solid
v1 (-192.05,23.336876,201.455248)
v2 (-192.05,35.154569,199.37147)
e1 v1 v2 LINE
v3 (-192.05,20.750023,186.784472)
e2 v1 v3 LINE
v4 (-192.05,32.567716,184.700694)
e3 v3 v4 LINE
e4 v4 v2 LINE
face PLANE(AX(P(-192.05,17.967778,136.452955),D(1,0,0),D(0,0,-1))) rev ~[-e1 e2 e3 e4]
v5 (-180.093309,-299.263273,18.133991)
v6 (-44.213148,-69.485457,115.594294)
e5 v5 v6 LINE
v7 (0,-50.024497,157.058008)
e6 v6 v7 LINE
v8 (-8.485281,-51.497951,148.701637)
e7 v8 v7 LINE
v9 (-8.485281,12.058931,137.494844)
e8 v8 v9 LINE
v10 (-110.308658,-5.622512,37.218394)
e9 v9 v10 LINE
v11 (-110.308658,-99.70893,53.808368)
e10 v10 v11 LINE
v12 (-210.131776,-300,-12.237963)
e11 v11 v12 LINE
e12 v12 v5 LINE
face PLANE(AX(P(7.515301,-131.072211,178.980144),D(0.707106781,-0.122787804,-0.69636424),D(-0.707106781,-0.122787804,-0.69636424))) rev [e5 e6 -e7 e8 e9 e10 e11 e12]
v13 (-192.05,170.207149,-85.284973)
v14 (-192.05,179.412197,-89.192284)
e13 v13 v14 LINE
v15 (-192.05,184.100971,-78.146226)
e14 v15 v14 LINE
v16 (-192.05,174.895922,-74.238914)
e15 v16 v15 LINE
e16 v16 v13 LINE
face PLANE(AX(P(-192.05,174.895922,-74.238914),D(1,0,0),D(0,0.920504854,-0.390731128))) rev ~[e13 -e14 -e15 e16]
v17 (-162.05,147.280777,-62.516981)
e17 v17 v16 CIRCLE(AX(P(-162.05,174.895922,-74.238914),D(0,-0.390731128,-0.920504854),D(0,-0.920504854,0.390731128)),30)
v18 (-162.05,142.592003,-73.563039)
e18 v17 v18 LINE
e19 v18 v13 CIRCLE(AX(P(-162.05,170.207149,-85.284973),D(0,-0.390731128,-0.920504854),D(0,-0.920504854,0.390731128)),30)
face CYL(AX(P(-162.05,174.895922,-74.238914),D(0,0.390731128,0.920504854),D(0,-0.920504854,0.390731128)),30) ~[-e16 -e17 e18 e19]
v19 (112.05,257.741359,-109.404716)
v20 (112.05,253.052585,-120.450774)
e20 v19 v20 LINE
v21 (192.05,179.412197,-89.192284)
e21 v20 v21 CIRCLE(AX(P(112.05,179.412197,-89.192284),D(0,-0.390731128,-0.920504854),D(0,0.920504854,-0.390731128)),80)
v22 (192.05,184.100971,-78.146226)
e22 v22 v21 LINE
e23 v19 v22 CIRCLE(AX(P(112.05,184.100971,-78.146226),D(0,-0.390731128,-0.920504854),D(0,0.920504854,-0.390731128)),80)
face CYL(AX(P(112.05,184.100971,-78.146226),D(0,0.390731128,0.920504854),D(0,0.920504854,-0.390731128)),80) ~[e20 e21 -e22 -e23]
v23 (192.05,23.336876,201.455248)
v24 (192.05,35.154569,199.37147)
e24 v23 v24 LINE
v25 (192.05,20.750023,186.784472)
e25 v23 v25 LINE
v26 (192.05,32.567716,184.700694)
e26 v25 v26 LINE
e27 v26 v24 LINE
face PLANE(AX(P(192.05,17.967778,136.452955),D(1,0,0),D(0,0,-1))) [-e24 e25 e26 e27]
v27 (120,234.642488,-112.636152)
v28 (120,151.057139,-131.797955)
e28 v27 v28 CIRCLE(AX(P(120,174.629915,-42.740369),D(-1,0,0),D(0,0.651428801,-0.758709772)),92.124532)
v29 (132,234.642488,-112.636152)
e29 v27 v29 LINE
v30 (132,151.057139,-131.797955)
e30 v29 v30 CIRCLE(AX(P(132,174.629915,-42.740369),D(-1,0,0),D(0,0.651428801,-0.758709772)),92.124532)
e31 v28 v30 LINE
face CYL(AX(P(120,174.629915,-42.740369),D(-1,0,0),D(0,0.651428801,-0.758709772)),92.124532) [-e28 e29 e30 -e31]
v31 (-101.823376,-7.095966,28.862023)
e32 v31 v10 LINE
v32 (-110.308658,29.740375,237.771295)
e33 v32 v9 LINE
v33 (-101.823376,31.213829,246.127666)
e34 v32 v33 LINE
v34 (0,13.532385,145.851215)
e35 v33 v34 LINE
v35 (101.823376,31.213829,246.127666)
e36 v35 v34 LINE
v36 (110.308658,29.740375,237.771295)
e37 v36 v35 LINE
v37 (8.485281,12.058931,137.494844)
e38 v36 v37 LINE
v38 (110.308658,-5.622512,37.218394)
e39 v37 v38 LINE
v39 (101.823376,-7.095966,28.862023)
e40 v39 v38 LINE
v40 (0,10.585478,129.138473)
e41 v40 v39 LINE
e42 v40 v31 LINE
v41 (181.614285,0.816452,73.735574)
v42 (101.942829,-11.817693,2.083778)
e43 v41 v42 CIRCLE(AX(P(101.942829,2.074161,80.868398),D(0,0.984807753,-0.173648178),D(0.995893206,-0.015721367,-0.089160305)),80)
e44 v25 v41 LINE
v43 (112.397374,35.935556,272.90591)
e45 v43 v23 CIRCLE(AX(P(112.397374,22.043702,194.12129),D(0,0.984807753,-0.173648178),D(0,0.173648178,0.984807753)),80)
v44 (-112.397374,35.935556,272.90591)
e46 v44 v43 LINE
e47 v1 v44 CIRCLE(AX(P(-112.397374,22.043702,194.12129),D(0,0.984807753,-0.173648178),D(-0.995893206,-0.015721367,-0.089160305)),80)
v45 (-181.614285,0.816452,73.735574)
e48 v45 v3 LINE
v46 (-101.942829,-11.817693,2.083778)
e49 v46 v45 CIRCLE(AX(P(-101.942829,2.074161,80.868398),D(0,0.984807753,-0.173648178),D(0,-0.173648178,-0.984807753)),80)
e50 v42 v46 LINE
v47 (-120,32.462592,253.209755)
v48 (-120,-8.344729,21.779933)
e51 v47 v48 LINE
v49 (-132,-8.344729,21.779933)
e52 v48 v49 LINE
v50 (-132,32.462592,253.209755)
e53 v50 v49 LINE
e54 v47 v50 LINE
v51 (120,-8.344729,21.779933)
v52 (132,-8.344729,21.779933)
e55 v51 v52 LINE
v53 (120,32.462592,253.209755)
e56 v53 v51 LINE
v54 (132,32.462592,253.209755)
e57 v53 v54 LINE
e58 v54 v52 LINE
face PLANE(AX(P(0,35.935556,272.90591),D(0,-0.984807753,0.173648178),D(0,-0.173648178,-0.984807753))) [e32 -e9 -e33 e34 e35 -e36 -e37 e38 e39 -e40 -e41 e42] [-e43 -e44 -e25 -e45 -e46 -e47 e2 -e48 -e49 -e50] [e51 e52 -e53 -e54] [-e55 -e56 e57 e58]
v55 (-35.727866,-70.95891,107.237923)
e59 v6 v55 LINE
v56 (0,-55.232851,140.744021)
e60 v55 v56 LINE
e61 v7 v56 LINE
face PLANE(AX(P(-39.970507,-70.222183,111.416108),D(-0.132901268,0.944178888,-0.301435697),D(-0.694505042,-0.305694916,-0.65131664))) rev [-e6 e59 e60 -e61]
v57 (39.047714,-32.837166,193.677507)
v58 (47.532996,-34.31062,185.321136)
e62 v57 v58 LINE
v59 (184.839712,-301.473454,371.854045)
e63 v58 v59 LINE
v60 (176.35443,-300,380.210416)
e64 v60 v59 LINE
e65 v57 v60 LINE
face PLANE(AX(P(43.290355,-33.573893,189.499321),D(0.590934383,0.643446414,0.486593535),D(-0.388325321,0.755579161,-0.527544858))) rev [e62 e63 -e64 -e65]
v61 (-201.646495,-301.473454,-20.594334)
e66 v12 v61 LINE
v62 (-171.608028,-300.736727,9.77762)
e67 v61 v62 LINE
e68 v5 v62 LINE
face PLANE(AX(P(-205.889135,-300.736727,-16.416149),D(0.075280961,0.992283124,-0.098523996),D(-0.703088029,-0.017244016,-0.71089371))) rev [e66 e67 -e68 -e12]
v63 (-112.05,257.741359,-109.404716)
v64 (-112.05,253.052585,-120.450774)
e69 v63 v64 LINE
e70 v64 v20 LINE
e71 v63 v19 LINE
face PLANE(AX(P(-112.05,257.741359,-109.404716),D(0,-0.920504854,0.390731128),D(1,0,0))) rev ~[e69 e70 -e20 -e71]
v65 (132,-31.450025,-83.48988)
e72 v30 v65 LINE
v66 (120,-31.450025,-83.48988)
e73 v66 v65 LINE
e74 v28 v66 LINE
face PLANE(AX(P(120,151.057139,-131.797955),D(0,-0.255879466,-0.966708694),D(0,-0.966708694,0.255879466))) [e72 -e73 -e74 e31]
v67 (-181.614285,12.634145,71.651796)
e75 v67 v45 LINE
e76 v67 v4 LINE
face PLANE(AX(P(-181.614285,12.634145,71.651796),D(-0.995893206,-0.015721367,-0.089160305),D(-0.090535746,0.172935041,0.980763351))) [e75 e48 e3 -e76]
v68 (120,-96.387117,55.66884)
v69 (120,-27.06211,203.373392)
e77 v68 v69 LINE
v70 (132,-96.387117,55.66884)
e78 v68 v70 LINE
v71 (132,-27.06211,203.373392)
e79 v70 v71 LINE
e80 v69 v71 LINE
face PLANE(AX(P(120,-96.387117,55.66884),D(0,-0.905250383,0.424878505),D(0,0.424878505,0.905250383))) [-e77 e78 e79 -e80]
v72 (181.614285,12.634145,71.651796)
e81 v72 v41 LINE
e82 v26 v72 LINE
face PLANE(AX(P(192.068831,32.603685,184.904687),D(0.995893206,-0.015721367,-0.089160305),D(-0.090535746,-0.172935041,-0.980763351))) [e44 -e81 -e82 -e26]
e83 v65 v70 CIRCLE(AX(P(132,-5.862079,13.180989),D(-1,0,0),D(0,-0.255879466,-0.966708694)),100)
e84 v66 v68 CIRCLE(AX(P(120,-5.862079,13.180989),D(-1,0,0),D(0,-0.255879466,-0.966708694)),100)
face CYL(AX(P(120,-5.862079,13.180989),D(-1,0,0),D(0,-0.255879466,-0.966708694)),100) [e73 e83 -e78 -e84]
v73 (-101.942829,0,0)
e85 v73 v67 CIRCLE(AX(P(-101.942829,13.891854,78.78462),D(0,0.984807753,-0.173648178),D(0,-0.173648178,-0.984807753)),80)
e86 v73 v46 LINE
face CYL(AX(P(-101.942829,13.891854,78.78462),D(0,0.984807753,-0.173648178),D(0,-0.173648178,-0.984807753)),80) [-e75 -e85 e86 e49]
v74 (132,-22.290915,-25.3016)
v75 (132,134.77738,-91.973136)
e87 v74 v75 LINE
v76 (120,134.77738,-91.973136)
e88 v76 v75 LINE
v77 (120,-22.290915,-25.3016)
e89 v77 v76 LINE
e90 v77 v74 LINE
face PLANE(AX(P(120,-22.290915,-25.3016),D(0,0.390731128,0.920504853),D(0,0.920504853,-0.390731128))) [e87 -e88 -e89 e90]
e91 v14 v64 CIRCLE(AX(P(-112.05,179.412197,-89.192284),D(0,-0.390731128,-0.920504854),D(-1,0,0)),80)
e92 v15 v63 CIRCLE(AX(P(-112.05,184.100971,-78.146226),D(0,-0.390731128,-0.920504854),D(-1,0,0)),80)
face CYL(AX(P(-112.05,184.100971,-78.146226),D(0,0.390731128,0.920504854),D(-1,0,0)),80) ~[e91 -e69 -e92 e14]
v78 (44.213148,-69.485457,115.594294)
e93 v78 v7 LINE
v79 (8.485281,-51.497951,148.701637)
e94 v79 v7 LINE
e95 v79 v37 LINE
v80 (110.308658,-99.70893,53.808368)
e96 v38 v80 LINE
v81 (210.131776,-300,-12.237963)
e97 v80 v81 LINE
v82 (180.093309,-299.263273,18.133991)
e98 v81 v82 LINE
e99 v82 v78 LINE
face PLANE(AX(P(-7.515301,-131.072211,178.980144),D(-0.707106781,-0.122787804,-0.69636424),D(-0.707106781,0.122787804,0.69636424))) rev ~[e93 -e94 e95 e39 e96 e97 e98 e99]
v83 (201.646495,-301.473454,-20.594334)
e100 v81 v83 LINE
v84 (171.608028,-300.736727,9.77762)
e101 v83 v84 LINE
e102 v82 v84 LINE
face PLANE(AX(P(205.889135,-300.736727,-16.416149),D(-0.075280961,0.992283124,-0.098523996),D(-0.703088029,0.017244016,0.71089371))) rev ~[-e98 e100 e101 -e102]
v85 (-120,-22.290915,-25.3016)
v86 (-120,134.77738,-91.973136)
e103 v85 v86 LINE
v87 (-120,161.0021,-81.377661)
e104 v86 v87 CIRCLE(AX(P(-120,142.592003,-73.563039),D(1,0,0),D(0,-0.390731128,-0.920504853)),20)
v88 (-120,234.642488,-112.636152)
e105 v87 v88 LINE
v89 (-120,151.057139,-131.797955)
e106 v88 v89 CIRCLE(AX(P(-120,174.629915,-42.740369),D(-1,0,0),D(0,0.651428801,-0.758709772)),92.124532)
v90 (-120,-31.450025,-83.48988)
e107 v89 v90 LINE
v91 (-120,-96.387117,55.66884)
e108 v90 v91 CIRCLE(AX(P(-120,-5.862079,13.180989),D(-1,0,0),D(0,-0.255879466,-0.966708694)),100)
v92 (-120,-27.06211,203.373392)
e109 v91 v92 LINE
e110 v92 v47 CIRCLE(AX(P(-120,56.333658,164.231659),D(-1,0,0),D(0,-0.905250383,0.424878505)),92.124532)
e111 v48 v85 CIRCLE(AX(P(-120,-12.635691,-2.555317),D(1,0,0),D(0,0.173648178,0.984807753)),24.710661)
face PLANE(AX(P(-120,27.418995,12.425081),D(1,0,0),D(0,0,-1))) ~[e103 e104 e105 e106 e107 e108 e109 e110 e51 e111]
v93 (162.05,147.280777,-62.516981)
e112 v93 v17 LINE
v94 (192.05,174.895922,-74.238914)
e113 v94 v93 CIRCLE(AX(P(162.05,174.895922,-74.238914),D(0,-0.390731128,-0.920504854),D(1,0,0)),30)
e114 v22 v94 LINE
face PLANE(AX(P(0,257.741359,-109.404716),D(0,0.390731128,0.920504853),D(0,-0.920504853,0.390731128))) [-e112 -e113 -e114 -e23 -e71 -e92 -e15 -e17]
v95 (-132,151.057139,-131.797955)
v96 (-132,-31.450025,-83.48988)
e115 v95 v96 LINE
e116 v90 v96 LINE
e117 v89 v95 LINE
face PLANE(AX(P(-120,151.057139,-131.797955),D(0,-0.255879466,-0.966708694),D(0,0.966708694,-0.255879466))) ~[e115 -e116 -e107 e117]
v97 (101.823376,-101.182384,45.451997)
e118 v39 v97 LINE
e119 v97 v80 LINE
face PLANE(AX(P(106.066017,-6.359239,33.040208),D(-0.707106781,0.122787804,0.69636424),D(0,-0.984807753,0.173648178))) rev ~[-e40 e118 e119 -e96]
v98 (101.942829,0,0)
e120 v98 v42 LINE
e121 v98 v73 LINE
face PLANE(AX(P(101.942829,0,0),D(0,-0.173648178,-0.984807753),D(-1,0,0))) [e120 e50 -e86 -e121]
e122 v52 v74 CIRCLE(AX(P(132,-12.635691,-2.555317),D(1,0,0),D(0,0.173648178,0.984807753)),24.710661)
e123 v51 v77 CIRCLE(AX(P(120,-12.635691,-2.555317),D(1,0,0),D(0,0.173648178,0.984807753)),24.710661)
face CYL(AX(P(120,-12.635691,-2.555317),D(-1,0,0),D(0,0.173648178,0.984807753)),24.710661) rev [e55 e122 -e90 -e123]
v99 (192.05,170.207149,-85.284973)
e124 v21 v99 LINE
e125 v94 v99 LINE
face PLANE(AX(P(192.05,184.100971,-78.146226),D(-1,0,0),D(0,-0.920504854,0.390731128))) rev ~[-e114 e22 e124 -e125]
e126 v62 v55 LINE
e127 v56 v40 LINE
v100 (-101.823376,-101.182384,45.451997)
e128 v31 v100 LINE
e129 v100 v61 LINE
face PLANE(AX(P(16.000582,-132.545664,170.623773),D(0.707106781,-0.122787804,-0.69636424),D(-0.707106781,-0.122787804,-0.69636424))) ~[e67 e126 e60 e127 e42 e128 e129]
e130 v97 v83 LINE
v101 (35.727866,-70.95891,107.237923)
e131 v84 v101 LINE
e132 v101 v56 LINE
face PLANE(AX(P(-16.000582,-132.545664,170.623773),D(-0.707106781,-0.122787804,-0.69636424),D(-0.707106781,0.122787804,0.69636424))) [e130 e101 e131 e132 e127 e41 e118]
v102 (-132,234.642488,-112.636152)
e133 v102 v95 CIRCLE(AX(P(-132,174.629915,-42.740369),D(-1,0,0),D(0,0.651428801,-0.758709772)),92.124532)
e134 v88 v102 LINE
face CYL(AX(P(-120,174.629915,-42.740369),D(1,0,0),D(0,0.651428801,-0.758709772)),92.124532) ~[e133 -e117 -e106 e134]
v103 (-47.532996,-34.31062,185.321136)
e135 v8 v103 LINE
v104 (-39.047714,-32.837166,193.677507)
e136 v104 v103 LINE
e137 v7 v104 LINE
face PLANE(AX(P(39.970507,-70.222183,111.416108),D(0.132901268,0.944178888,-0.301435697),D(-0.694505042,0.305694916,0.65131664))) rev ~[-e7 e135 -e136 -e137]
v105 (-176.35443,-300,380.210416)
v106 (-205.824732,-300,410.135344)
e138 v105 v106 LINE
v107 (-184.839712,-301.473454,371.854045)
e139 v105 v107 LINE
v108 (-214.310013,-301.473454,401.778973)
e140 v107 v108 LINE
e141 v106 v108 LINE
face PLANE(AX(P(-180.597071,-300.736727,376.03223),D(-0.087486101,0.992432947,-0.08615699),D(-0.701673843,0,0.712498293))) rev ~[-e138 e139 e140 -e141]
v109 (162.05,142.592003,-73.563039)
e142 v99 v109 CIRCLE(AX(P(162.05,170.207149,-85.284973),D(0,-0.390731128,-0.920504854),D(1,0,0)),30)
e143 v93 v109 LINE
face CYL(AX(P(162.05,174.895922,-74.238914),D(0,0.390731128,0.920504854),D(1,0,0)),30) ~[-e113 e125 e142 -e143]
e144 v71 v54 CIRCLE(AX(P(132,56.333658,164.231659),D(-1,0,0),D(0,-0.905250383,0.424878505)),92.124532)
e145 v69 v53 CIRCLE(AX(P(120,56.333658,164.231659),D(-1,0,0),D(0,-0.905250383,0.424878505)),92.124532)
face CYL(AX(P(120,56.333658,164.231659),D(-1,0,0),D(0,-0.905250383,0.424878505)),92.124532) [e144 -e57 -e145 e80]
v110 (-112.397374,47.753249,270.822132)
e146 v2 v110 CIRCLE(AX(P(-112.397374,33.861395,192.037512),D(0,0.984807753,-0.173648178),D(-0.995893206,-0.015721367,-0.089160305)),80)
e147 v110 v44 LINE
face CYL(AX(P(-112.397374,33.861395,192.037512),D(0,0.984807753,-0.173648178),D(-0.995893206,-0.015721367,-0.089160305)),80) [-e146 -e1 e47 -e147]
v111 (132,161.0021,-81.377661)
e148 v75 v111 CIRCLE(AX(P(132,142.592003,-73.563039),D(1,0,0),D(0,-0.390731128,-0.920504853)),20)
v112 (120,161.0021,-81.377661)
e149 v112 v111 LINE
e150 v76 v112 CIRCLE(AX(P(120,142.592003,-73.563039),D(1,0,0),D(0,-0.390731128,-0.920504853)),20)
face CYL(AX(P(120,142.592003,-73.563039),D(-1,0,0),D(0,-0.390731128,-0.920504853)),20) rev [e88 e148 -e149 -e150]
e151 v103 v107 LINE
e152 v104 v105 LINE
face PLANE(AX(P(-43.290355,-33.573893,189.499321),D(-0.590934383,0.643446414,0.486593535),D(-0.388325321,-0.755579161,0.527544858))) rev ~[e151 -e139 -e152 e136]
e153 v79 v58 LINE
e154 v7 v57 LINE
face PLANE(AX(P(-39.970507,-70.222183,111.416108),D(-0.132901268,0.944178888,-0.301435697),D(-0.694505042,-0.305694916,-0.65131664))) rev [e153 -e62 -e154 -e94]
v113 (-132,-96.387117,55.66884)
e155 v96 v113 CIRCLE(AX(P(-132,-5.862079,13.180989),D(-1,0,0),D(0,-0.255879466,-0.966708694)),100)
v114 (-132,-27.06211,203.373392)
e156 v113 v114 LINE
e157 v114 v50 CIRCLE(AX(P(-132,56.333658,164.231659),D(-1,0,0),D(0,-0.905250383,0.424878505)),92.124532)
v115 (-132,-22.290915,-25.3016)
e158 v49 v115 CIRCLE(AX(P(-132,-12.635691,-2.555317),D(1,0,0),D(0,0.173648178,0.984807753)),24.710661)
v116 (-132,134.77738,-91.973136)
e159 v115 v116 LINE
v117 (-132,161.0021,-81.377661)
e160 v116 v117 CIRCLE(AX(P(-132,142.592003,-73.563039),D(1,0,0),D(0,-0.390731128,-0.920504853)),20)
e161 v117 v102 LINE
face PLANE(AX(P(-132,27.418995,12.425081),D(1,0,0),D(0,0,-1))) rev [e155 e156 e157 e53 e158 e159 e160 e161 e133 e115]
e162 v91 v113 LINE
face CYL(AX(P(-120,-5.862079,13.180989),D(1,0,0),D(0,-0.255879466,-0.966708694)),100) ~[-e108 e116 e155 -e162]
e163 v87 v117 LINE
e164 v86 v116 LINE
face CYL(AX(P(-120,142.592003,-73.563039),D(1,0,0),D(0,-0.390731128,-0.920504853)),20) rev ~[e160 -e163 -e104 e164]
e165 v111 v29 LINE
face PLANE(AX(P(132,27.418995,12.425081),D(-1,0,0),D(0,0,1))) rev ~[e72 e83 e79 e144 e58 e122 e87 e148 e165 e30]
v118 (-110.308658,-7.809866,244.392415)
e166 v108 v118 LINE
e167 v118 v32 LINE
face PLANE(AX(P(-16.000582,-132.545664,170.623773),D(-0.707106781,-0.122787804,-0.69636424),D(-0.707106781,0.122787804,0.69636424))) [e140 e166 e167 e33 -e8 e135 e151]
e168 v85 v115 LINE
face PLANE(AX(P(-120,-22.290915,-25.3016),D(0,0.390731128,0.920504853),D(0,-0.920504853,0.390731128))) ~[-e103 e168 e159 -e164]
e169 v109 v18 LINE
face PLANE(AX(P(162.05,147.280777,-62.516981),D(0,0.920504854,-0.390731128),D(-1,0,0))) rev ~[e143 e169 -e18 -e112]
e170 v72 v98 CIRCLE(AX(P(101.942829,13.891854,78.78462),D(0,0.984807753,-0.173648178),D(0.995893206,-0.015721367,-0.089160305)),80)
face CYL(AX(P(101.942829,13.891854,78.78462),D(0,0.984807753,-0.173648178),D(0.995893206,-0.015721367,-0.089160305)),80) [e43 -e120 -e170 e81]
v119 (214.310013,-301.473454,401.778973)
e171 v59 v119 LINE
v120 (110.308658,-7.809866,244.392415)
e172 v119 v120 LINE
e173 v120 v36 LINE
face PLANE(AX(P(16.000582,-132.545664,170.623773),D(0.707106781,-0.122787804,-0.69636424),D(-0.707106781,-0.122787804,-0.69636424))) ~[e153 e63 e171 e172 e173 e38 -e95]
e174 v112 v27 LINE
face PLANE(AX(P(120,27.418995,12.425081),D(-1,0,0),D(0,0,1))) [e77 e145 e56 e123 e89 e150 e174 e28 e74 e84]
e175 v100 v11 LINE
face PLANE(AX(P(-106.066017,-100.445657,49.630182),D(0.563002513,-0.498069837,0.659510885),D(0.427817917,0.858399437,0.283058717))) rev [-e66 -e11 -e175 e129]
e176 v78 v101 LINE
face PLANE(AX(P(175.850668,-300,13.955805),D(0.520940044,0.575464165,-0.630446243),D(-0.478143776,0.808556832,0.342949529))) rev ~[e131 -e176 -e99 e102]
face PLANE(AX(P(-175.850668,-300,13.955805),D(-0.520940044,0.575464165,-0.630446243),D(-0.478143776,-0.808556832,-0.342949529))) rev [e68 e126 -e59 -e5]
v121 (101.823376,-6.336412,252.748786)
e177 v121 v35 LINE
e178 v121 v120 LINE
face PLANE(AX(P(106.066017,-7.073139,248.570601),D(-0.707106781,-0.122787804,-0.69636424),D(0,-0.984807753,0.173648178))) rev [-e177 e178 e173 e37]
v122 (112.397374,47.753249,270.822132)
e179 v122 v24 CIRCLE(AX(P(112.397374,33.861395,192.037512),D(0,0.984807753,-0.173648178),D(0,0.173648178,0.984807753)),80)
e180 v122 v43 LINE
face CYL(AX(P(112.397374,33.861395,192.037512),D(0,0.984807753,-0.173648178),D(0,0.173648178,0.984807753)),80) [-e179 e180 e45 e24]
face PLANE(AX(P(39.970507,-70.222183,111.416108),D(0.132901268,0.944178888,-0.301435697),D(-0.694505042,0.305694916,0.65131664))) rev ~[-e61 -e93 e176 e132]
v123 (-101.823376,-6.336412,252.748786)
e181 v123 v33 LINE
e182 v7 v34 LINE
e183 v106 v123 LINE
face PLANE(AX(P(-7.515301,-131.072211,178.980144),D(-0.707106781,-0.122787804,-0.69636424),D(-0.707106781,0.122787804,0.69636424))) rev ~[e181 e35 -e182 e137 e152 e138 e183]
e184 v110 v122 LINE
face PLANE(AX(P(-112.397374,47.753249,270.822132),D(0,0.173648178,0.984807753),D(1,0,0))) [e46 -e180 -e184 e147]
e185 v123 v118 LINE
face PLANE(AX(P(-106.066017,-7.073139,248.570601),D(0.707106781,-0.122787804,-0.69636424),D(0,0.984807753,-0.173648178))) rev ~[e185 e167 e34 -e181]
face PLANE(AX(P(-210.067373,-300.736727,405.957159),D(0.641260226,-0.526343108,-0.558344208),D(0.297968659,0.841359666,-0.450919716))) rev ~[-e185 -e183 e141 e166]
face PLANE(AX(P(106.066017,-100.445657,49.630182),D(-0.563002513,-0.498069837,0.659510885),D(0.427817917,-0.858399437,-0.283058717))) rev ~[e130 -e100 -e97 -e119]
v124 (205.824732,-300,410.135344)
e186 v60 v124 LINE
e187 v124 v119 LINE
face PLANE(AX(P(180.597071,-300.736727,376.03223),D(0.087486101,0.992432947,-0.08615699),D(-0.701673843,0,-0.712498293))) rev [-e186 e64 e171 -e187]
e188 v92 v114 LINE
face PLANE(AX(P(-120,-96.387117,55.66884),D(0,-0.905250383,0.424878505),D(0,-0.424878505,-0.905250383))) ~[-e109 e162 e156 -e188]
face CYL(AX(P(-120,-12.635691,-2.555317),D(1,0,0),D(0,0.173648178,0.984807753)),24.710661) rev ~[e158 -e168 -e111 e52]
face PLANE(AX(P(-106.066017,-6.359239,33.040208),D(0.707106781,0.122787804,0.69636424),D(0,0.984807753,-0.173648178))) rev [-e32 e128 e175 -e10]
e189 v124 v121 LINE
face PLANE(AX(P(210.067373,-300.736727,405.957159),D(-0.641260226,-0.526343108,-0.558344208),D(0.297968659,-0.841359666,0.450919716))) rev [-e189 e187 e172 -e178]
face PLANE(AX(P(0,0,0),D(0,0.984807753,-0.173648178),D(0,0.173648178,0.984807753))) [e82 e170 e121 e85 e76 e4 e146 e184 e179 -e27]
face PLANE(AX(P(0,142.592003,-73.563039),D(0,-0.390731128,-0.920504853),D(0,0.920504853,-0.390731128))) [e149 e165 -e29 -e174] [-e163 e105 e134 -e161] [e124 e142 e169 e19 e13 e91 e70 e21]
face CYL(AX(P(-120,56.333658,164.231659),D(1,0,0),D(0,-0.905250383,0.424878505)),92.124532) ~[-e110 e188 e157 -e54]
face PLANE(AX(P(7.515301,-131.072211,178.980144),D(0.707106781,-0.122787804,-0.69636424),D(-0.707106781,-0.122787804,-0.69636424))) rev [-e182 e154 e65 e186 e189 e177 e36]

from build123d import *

# Parameters (mm, degrees)
BOSS_EXTRUDE1_DEPTH        = 192.05
BOSS_EXTRUDE1_DEPTH_BACK   = 192.05
BOSS_EXTRUDE1_2_DEPTH      = 192.05
BOSS_EXTRUDE1_2_DEPTH_BACK = 192.05
SKETCH3_OUTSIDE_W          = 508.562
SKETCH3_OUTSIDE_H          = 558.651
CUT_EXTRUDE1_DEPTH         = 12
SKETCH4_OUTSIDE_W          = 508.562
SKETCH4_OUTSIDE_H          = 526.289
CUT_EXTRUDE2_DEPTH         = 12
BOSS_EXTRUDE4_START        = 120
BOSS_EXTRUDE4_DEPTH        = 12
BOSS_EXTRUDE10_DEPTH       = 6


with BuildPart() as part:
    # Sketch2 → Boss-Extrude1 (new, two sides: drawn at the far end of the back side and taken through both)
    with BuildSketch(Plane(origin=(0, 0, 0), x_dir=(0, 0, -1), z_dir=(1, 0, 0)).offset(-BOSS_EXTRUDE1_DEPTH_BACK)):
        Polygon((0, 0), (-270.822132078, 47.753248858), (-272.90591021, 35.935555822), (-2.083778132, -11.817693036), align=None)
    extrude(amount=BOSS_EXTRUDE1_DEPTH + BOSS_EXTRUDE1_DEPTH_BACK)

    # Sketch3 outside → Cut-Extrude1 (cut)
    with BuildSketch(Plane(origin=(0, 0, 0), x_dir=(1, 0, 0), z_dir=(0, 0.9848077530122092, -0.17364817766692398))):
        with Locations((0, -96.4215)):
            Rectangle(SKETCH3_OUTSIDE_W, SKETCH3_OUTSIDE_H)
        with BuildLine():
            Line((0, -275), (112.39737442, -275))
            ThreePointArc((112.39737442, -275), (171.471178999, -248.947063059), (192.068830938, -187.757140317))
            Line((192.068830938, -187.757140317), (181.614285483, -72.757140317))
            ThreePointArc((181.614285483, -72.757140317), (155.889892025, -20.926195422), (101.942828966, 0))
            Line((101.942828966, 0), (-101.942828966, 0))
            ThreePointArc((-101.942828966, 0), (-155.889892025, -20.926195422), (-181.614285483, -72.757140317))
            Line((-181.614285483, -72.757140317), (-192.068830938, -187.757140317))
            ThreePointArc((-192.068830938, -187.757140317), (-171.471178999, -248.947063059), (-112.39737442, -275))
            Line((-112.39737442, -275), (0, -275))
        make_face(mode=Mode.SUBTRACT)
    extrude(amount=-CUT_EXTRUDE1_DEPTH, mode=Mode.SUBTRACT)



with BuildPart() as body_2:
    # Sketch2 → Boss-Extrude1 2 (new, two sides: drawn at the far end of the back side and taken through both)
    with BuildSketch(Plane(origin=(0, 0, 0), x_dir=(0, 0, -1), z_dir=(1, 0, 0)).offset(-BOSS_EXTRUDE1_2_DEPTH_BACK)):
        Polygon((109.404715977, 257.741358967), (62.516980558, 147.280776552), (73.5630388, 142.592003011), (120.450774218, 253.052585425), align=None)
    extrude(amount=BOSS_EXTRUDE1_2_DEPTH + BOSS_EXTRUDE1_2_DEPTH_BACK)

    # Sketch4 outside → Cut-Extrude2 (cut)
    with BuildSketch(Plane(origin=(0, 0, 0), x_dir=(1, 0, 0), z_dir=(0, 0.39073112848927083, 0.9205048534524416))):
        with Locations((0, 83.4025)):
            Rectangle(SKETCH4_OUTSIDE_W, SKETCH4_OUTSIDE_H)
        with BuildLine():
            Line((-112.05, 280), (112.05, 280))
            ThreePointArc((112.05, 280), (168.618542495, 256.568542495), (192.05, 200))
            Line((192.05, 200), (192.05, 190))
            ThreePointArc((192.05, 190), (183.263203436, 168.786796564), (162.05, 160))
            Line((162.05, 160), (-162.05, 160))
            ThreePointArc((-162.05, 160), (-183.263203436, 168.786796564), (-192.05, 190))
            Line((-192.05, 190), (-192.05, 200))
            ThreePointArc((-192.05, 200), (-168.618542495, 256.568542495), (-112.05, 280))
        make_face(mode=Mode.SUBTRACT)
    extrude(amount=-CUT_EXTRUDE2_DEPTH, mode=Mode.SUBTRACT)


with BuildPart() as part_1:
    add(part.part)

    add(body_2.part)  # Boss-Extrude4 merges body 2
    # Sketch6 → Boss-Extrude4 (add)
    with BuildSketch(Plane(origin=(0, 0, 0), x_dir=(0, 0, -1), z_dir=(1, 0, 0)).offset(BOSS_EXTRUDE4_START)):
        with BuildLine():
            Line((-253.20975515, 32.462592269), (-137.494844171, 12.058931393))
            Line((-137.494844171, 12.058931393), (-21.779933192, -8.344729483))
            ThreePointArc((-21.779933192, -8.344729483), (-4.462889813, -36.328759752), (25.301600034, -22.290914988))
            Line((25.301600034, -22.290914988), (91.973135869, 134.777380441))
            ThreePointArc((91.973135869, 134.777380441), (92.106715891, 150.084134879), (81.377661369, 161.00210008))
            Line((81.377661369, 161.00210008), (112.636151649, 234.642488356))
            ThreePointArc((112.636151649, 234.642488356), (132.535530375, 195.215307548), (131.79795497, 151.057139078))
            Line((131.79795497, 151.057139078), (83.48988024, -31.450025326))
            ThreePointArc((83.48988024, -31.450025326), (29.105608653, -96.481302081), (-55.668839629, -96.387117006))
            Line((-55.668839629, -96.387117006), (-203.373392469, -27.062109534))
            ThreePointArc((-203.373392469, -27.062109534), (-234.867841078, -2.805661741), (-253.20975515, 32.462592269))
        make_face()
    boss_extrude4 = extrude(amount=BOSS_EXTRUDE4_DEPTH)

    # Mirror1: Boss-Extrude4 across plane
    add(boss_extrude4.mirror(Plane(origin=(0, 0, 0), x_dir=(0, 0, 1), z_dir=(1, 0, 0))))

    # Sketch27 → Boss-Extrude10 (add, symmetric)
    with BuildSketch(Plane(origin=(68.75, 11.938312215, 67.70553302), x_dir=(0.7071067811865476, -0.12278780396896828, -0.6963642403200198), z_dir=(0.7071067811865476, 0.12278780396896825, 0.6963642403200198))):
        Polygon((52.772817594, -107.537852274), (193.944024949, -293.317225843), (151.463217587, -297.865726007), (-40.700349563, -88.502554793), (-158.448989832, -65.970042163), (-352.630009772, -361.465171741), (-394.307309716, -366.661581013), (-247.22718241, -50.129513852), (-247.22718241, -12.000000012), (52.772817594, -12.000000012), align=None)
    boss_extrude10 = extrude(amount=BOSS_EXTRUDE10_DEPTH, both=True)

    # Mirror3: Boss-Extrude10 across plane
    add(boss_extrude10.mirror(Plane(origin=(0, 0, 0), x_dir=(0, 0, 1), z_dir=(1, 0, 0))))


solid = part_1.part
